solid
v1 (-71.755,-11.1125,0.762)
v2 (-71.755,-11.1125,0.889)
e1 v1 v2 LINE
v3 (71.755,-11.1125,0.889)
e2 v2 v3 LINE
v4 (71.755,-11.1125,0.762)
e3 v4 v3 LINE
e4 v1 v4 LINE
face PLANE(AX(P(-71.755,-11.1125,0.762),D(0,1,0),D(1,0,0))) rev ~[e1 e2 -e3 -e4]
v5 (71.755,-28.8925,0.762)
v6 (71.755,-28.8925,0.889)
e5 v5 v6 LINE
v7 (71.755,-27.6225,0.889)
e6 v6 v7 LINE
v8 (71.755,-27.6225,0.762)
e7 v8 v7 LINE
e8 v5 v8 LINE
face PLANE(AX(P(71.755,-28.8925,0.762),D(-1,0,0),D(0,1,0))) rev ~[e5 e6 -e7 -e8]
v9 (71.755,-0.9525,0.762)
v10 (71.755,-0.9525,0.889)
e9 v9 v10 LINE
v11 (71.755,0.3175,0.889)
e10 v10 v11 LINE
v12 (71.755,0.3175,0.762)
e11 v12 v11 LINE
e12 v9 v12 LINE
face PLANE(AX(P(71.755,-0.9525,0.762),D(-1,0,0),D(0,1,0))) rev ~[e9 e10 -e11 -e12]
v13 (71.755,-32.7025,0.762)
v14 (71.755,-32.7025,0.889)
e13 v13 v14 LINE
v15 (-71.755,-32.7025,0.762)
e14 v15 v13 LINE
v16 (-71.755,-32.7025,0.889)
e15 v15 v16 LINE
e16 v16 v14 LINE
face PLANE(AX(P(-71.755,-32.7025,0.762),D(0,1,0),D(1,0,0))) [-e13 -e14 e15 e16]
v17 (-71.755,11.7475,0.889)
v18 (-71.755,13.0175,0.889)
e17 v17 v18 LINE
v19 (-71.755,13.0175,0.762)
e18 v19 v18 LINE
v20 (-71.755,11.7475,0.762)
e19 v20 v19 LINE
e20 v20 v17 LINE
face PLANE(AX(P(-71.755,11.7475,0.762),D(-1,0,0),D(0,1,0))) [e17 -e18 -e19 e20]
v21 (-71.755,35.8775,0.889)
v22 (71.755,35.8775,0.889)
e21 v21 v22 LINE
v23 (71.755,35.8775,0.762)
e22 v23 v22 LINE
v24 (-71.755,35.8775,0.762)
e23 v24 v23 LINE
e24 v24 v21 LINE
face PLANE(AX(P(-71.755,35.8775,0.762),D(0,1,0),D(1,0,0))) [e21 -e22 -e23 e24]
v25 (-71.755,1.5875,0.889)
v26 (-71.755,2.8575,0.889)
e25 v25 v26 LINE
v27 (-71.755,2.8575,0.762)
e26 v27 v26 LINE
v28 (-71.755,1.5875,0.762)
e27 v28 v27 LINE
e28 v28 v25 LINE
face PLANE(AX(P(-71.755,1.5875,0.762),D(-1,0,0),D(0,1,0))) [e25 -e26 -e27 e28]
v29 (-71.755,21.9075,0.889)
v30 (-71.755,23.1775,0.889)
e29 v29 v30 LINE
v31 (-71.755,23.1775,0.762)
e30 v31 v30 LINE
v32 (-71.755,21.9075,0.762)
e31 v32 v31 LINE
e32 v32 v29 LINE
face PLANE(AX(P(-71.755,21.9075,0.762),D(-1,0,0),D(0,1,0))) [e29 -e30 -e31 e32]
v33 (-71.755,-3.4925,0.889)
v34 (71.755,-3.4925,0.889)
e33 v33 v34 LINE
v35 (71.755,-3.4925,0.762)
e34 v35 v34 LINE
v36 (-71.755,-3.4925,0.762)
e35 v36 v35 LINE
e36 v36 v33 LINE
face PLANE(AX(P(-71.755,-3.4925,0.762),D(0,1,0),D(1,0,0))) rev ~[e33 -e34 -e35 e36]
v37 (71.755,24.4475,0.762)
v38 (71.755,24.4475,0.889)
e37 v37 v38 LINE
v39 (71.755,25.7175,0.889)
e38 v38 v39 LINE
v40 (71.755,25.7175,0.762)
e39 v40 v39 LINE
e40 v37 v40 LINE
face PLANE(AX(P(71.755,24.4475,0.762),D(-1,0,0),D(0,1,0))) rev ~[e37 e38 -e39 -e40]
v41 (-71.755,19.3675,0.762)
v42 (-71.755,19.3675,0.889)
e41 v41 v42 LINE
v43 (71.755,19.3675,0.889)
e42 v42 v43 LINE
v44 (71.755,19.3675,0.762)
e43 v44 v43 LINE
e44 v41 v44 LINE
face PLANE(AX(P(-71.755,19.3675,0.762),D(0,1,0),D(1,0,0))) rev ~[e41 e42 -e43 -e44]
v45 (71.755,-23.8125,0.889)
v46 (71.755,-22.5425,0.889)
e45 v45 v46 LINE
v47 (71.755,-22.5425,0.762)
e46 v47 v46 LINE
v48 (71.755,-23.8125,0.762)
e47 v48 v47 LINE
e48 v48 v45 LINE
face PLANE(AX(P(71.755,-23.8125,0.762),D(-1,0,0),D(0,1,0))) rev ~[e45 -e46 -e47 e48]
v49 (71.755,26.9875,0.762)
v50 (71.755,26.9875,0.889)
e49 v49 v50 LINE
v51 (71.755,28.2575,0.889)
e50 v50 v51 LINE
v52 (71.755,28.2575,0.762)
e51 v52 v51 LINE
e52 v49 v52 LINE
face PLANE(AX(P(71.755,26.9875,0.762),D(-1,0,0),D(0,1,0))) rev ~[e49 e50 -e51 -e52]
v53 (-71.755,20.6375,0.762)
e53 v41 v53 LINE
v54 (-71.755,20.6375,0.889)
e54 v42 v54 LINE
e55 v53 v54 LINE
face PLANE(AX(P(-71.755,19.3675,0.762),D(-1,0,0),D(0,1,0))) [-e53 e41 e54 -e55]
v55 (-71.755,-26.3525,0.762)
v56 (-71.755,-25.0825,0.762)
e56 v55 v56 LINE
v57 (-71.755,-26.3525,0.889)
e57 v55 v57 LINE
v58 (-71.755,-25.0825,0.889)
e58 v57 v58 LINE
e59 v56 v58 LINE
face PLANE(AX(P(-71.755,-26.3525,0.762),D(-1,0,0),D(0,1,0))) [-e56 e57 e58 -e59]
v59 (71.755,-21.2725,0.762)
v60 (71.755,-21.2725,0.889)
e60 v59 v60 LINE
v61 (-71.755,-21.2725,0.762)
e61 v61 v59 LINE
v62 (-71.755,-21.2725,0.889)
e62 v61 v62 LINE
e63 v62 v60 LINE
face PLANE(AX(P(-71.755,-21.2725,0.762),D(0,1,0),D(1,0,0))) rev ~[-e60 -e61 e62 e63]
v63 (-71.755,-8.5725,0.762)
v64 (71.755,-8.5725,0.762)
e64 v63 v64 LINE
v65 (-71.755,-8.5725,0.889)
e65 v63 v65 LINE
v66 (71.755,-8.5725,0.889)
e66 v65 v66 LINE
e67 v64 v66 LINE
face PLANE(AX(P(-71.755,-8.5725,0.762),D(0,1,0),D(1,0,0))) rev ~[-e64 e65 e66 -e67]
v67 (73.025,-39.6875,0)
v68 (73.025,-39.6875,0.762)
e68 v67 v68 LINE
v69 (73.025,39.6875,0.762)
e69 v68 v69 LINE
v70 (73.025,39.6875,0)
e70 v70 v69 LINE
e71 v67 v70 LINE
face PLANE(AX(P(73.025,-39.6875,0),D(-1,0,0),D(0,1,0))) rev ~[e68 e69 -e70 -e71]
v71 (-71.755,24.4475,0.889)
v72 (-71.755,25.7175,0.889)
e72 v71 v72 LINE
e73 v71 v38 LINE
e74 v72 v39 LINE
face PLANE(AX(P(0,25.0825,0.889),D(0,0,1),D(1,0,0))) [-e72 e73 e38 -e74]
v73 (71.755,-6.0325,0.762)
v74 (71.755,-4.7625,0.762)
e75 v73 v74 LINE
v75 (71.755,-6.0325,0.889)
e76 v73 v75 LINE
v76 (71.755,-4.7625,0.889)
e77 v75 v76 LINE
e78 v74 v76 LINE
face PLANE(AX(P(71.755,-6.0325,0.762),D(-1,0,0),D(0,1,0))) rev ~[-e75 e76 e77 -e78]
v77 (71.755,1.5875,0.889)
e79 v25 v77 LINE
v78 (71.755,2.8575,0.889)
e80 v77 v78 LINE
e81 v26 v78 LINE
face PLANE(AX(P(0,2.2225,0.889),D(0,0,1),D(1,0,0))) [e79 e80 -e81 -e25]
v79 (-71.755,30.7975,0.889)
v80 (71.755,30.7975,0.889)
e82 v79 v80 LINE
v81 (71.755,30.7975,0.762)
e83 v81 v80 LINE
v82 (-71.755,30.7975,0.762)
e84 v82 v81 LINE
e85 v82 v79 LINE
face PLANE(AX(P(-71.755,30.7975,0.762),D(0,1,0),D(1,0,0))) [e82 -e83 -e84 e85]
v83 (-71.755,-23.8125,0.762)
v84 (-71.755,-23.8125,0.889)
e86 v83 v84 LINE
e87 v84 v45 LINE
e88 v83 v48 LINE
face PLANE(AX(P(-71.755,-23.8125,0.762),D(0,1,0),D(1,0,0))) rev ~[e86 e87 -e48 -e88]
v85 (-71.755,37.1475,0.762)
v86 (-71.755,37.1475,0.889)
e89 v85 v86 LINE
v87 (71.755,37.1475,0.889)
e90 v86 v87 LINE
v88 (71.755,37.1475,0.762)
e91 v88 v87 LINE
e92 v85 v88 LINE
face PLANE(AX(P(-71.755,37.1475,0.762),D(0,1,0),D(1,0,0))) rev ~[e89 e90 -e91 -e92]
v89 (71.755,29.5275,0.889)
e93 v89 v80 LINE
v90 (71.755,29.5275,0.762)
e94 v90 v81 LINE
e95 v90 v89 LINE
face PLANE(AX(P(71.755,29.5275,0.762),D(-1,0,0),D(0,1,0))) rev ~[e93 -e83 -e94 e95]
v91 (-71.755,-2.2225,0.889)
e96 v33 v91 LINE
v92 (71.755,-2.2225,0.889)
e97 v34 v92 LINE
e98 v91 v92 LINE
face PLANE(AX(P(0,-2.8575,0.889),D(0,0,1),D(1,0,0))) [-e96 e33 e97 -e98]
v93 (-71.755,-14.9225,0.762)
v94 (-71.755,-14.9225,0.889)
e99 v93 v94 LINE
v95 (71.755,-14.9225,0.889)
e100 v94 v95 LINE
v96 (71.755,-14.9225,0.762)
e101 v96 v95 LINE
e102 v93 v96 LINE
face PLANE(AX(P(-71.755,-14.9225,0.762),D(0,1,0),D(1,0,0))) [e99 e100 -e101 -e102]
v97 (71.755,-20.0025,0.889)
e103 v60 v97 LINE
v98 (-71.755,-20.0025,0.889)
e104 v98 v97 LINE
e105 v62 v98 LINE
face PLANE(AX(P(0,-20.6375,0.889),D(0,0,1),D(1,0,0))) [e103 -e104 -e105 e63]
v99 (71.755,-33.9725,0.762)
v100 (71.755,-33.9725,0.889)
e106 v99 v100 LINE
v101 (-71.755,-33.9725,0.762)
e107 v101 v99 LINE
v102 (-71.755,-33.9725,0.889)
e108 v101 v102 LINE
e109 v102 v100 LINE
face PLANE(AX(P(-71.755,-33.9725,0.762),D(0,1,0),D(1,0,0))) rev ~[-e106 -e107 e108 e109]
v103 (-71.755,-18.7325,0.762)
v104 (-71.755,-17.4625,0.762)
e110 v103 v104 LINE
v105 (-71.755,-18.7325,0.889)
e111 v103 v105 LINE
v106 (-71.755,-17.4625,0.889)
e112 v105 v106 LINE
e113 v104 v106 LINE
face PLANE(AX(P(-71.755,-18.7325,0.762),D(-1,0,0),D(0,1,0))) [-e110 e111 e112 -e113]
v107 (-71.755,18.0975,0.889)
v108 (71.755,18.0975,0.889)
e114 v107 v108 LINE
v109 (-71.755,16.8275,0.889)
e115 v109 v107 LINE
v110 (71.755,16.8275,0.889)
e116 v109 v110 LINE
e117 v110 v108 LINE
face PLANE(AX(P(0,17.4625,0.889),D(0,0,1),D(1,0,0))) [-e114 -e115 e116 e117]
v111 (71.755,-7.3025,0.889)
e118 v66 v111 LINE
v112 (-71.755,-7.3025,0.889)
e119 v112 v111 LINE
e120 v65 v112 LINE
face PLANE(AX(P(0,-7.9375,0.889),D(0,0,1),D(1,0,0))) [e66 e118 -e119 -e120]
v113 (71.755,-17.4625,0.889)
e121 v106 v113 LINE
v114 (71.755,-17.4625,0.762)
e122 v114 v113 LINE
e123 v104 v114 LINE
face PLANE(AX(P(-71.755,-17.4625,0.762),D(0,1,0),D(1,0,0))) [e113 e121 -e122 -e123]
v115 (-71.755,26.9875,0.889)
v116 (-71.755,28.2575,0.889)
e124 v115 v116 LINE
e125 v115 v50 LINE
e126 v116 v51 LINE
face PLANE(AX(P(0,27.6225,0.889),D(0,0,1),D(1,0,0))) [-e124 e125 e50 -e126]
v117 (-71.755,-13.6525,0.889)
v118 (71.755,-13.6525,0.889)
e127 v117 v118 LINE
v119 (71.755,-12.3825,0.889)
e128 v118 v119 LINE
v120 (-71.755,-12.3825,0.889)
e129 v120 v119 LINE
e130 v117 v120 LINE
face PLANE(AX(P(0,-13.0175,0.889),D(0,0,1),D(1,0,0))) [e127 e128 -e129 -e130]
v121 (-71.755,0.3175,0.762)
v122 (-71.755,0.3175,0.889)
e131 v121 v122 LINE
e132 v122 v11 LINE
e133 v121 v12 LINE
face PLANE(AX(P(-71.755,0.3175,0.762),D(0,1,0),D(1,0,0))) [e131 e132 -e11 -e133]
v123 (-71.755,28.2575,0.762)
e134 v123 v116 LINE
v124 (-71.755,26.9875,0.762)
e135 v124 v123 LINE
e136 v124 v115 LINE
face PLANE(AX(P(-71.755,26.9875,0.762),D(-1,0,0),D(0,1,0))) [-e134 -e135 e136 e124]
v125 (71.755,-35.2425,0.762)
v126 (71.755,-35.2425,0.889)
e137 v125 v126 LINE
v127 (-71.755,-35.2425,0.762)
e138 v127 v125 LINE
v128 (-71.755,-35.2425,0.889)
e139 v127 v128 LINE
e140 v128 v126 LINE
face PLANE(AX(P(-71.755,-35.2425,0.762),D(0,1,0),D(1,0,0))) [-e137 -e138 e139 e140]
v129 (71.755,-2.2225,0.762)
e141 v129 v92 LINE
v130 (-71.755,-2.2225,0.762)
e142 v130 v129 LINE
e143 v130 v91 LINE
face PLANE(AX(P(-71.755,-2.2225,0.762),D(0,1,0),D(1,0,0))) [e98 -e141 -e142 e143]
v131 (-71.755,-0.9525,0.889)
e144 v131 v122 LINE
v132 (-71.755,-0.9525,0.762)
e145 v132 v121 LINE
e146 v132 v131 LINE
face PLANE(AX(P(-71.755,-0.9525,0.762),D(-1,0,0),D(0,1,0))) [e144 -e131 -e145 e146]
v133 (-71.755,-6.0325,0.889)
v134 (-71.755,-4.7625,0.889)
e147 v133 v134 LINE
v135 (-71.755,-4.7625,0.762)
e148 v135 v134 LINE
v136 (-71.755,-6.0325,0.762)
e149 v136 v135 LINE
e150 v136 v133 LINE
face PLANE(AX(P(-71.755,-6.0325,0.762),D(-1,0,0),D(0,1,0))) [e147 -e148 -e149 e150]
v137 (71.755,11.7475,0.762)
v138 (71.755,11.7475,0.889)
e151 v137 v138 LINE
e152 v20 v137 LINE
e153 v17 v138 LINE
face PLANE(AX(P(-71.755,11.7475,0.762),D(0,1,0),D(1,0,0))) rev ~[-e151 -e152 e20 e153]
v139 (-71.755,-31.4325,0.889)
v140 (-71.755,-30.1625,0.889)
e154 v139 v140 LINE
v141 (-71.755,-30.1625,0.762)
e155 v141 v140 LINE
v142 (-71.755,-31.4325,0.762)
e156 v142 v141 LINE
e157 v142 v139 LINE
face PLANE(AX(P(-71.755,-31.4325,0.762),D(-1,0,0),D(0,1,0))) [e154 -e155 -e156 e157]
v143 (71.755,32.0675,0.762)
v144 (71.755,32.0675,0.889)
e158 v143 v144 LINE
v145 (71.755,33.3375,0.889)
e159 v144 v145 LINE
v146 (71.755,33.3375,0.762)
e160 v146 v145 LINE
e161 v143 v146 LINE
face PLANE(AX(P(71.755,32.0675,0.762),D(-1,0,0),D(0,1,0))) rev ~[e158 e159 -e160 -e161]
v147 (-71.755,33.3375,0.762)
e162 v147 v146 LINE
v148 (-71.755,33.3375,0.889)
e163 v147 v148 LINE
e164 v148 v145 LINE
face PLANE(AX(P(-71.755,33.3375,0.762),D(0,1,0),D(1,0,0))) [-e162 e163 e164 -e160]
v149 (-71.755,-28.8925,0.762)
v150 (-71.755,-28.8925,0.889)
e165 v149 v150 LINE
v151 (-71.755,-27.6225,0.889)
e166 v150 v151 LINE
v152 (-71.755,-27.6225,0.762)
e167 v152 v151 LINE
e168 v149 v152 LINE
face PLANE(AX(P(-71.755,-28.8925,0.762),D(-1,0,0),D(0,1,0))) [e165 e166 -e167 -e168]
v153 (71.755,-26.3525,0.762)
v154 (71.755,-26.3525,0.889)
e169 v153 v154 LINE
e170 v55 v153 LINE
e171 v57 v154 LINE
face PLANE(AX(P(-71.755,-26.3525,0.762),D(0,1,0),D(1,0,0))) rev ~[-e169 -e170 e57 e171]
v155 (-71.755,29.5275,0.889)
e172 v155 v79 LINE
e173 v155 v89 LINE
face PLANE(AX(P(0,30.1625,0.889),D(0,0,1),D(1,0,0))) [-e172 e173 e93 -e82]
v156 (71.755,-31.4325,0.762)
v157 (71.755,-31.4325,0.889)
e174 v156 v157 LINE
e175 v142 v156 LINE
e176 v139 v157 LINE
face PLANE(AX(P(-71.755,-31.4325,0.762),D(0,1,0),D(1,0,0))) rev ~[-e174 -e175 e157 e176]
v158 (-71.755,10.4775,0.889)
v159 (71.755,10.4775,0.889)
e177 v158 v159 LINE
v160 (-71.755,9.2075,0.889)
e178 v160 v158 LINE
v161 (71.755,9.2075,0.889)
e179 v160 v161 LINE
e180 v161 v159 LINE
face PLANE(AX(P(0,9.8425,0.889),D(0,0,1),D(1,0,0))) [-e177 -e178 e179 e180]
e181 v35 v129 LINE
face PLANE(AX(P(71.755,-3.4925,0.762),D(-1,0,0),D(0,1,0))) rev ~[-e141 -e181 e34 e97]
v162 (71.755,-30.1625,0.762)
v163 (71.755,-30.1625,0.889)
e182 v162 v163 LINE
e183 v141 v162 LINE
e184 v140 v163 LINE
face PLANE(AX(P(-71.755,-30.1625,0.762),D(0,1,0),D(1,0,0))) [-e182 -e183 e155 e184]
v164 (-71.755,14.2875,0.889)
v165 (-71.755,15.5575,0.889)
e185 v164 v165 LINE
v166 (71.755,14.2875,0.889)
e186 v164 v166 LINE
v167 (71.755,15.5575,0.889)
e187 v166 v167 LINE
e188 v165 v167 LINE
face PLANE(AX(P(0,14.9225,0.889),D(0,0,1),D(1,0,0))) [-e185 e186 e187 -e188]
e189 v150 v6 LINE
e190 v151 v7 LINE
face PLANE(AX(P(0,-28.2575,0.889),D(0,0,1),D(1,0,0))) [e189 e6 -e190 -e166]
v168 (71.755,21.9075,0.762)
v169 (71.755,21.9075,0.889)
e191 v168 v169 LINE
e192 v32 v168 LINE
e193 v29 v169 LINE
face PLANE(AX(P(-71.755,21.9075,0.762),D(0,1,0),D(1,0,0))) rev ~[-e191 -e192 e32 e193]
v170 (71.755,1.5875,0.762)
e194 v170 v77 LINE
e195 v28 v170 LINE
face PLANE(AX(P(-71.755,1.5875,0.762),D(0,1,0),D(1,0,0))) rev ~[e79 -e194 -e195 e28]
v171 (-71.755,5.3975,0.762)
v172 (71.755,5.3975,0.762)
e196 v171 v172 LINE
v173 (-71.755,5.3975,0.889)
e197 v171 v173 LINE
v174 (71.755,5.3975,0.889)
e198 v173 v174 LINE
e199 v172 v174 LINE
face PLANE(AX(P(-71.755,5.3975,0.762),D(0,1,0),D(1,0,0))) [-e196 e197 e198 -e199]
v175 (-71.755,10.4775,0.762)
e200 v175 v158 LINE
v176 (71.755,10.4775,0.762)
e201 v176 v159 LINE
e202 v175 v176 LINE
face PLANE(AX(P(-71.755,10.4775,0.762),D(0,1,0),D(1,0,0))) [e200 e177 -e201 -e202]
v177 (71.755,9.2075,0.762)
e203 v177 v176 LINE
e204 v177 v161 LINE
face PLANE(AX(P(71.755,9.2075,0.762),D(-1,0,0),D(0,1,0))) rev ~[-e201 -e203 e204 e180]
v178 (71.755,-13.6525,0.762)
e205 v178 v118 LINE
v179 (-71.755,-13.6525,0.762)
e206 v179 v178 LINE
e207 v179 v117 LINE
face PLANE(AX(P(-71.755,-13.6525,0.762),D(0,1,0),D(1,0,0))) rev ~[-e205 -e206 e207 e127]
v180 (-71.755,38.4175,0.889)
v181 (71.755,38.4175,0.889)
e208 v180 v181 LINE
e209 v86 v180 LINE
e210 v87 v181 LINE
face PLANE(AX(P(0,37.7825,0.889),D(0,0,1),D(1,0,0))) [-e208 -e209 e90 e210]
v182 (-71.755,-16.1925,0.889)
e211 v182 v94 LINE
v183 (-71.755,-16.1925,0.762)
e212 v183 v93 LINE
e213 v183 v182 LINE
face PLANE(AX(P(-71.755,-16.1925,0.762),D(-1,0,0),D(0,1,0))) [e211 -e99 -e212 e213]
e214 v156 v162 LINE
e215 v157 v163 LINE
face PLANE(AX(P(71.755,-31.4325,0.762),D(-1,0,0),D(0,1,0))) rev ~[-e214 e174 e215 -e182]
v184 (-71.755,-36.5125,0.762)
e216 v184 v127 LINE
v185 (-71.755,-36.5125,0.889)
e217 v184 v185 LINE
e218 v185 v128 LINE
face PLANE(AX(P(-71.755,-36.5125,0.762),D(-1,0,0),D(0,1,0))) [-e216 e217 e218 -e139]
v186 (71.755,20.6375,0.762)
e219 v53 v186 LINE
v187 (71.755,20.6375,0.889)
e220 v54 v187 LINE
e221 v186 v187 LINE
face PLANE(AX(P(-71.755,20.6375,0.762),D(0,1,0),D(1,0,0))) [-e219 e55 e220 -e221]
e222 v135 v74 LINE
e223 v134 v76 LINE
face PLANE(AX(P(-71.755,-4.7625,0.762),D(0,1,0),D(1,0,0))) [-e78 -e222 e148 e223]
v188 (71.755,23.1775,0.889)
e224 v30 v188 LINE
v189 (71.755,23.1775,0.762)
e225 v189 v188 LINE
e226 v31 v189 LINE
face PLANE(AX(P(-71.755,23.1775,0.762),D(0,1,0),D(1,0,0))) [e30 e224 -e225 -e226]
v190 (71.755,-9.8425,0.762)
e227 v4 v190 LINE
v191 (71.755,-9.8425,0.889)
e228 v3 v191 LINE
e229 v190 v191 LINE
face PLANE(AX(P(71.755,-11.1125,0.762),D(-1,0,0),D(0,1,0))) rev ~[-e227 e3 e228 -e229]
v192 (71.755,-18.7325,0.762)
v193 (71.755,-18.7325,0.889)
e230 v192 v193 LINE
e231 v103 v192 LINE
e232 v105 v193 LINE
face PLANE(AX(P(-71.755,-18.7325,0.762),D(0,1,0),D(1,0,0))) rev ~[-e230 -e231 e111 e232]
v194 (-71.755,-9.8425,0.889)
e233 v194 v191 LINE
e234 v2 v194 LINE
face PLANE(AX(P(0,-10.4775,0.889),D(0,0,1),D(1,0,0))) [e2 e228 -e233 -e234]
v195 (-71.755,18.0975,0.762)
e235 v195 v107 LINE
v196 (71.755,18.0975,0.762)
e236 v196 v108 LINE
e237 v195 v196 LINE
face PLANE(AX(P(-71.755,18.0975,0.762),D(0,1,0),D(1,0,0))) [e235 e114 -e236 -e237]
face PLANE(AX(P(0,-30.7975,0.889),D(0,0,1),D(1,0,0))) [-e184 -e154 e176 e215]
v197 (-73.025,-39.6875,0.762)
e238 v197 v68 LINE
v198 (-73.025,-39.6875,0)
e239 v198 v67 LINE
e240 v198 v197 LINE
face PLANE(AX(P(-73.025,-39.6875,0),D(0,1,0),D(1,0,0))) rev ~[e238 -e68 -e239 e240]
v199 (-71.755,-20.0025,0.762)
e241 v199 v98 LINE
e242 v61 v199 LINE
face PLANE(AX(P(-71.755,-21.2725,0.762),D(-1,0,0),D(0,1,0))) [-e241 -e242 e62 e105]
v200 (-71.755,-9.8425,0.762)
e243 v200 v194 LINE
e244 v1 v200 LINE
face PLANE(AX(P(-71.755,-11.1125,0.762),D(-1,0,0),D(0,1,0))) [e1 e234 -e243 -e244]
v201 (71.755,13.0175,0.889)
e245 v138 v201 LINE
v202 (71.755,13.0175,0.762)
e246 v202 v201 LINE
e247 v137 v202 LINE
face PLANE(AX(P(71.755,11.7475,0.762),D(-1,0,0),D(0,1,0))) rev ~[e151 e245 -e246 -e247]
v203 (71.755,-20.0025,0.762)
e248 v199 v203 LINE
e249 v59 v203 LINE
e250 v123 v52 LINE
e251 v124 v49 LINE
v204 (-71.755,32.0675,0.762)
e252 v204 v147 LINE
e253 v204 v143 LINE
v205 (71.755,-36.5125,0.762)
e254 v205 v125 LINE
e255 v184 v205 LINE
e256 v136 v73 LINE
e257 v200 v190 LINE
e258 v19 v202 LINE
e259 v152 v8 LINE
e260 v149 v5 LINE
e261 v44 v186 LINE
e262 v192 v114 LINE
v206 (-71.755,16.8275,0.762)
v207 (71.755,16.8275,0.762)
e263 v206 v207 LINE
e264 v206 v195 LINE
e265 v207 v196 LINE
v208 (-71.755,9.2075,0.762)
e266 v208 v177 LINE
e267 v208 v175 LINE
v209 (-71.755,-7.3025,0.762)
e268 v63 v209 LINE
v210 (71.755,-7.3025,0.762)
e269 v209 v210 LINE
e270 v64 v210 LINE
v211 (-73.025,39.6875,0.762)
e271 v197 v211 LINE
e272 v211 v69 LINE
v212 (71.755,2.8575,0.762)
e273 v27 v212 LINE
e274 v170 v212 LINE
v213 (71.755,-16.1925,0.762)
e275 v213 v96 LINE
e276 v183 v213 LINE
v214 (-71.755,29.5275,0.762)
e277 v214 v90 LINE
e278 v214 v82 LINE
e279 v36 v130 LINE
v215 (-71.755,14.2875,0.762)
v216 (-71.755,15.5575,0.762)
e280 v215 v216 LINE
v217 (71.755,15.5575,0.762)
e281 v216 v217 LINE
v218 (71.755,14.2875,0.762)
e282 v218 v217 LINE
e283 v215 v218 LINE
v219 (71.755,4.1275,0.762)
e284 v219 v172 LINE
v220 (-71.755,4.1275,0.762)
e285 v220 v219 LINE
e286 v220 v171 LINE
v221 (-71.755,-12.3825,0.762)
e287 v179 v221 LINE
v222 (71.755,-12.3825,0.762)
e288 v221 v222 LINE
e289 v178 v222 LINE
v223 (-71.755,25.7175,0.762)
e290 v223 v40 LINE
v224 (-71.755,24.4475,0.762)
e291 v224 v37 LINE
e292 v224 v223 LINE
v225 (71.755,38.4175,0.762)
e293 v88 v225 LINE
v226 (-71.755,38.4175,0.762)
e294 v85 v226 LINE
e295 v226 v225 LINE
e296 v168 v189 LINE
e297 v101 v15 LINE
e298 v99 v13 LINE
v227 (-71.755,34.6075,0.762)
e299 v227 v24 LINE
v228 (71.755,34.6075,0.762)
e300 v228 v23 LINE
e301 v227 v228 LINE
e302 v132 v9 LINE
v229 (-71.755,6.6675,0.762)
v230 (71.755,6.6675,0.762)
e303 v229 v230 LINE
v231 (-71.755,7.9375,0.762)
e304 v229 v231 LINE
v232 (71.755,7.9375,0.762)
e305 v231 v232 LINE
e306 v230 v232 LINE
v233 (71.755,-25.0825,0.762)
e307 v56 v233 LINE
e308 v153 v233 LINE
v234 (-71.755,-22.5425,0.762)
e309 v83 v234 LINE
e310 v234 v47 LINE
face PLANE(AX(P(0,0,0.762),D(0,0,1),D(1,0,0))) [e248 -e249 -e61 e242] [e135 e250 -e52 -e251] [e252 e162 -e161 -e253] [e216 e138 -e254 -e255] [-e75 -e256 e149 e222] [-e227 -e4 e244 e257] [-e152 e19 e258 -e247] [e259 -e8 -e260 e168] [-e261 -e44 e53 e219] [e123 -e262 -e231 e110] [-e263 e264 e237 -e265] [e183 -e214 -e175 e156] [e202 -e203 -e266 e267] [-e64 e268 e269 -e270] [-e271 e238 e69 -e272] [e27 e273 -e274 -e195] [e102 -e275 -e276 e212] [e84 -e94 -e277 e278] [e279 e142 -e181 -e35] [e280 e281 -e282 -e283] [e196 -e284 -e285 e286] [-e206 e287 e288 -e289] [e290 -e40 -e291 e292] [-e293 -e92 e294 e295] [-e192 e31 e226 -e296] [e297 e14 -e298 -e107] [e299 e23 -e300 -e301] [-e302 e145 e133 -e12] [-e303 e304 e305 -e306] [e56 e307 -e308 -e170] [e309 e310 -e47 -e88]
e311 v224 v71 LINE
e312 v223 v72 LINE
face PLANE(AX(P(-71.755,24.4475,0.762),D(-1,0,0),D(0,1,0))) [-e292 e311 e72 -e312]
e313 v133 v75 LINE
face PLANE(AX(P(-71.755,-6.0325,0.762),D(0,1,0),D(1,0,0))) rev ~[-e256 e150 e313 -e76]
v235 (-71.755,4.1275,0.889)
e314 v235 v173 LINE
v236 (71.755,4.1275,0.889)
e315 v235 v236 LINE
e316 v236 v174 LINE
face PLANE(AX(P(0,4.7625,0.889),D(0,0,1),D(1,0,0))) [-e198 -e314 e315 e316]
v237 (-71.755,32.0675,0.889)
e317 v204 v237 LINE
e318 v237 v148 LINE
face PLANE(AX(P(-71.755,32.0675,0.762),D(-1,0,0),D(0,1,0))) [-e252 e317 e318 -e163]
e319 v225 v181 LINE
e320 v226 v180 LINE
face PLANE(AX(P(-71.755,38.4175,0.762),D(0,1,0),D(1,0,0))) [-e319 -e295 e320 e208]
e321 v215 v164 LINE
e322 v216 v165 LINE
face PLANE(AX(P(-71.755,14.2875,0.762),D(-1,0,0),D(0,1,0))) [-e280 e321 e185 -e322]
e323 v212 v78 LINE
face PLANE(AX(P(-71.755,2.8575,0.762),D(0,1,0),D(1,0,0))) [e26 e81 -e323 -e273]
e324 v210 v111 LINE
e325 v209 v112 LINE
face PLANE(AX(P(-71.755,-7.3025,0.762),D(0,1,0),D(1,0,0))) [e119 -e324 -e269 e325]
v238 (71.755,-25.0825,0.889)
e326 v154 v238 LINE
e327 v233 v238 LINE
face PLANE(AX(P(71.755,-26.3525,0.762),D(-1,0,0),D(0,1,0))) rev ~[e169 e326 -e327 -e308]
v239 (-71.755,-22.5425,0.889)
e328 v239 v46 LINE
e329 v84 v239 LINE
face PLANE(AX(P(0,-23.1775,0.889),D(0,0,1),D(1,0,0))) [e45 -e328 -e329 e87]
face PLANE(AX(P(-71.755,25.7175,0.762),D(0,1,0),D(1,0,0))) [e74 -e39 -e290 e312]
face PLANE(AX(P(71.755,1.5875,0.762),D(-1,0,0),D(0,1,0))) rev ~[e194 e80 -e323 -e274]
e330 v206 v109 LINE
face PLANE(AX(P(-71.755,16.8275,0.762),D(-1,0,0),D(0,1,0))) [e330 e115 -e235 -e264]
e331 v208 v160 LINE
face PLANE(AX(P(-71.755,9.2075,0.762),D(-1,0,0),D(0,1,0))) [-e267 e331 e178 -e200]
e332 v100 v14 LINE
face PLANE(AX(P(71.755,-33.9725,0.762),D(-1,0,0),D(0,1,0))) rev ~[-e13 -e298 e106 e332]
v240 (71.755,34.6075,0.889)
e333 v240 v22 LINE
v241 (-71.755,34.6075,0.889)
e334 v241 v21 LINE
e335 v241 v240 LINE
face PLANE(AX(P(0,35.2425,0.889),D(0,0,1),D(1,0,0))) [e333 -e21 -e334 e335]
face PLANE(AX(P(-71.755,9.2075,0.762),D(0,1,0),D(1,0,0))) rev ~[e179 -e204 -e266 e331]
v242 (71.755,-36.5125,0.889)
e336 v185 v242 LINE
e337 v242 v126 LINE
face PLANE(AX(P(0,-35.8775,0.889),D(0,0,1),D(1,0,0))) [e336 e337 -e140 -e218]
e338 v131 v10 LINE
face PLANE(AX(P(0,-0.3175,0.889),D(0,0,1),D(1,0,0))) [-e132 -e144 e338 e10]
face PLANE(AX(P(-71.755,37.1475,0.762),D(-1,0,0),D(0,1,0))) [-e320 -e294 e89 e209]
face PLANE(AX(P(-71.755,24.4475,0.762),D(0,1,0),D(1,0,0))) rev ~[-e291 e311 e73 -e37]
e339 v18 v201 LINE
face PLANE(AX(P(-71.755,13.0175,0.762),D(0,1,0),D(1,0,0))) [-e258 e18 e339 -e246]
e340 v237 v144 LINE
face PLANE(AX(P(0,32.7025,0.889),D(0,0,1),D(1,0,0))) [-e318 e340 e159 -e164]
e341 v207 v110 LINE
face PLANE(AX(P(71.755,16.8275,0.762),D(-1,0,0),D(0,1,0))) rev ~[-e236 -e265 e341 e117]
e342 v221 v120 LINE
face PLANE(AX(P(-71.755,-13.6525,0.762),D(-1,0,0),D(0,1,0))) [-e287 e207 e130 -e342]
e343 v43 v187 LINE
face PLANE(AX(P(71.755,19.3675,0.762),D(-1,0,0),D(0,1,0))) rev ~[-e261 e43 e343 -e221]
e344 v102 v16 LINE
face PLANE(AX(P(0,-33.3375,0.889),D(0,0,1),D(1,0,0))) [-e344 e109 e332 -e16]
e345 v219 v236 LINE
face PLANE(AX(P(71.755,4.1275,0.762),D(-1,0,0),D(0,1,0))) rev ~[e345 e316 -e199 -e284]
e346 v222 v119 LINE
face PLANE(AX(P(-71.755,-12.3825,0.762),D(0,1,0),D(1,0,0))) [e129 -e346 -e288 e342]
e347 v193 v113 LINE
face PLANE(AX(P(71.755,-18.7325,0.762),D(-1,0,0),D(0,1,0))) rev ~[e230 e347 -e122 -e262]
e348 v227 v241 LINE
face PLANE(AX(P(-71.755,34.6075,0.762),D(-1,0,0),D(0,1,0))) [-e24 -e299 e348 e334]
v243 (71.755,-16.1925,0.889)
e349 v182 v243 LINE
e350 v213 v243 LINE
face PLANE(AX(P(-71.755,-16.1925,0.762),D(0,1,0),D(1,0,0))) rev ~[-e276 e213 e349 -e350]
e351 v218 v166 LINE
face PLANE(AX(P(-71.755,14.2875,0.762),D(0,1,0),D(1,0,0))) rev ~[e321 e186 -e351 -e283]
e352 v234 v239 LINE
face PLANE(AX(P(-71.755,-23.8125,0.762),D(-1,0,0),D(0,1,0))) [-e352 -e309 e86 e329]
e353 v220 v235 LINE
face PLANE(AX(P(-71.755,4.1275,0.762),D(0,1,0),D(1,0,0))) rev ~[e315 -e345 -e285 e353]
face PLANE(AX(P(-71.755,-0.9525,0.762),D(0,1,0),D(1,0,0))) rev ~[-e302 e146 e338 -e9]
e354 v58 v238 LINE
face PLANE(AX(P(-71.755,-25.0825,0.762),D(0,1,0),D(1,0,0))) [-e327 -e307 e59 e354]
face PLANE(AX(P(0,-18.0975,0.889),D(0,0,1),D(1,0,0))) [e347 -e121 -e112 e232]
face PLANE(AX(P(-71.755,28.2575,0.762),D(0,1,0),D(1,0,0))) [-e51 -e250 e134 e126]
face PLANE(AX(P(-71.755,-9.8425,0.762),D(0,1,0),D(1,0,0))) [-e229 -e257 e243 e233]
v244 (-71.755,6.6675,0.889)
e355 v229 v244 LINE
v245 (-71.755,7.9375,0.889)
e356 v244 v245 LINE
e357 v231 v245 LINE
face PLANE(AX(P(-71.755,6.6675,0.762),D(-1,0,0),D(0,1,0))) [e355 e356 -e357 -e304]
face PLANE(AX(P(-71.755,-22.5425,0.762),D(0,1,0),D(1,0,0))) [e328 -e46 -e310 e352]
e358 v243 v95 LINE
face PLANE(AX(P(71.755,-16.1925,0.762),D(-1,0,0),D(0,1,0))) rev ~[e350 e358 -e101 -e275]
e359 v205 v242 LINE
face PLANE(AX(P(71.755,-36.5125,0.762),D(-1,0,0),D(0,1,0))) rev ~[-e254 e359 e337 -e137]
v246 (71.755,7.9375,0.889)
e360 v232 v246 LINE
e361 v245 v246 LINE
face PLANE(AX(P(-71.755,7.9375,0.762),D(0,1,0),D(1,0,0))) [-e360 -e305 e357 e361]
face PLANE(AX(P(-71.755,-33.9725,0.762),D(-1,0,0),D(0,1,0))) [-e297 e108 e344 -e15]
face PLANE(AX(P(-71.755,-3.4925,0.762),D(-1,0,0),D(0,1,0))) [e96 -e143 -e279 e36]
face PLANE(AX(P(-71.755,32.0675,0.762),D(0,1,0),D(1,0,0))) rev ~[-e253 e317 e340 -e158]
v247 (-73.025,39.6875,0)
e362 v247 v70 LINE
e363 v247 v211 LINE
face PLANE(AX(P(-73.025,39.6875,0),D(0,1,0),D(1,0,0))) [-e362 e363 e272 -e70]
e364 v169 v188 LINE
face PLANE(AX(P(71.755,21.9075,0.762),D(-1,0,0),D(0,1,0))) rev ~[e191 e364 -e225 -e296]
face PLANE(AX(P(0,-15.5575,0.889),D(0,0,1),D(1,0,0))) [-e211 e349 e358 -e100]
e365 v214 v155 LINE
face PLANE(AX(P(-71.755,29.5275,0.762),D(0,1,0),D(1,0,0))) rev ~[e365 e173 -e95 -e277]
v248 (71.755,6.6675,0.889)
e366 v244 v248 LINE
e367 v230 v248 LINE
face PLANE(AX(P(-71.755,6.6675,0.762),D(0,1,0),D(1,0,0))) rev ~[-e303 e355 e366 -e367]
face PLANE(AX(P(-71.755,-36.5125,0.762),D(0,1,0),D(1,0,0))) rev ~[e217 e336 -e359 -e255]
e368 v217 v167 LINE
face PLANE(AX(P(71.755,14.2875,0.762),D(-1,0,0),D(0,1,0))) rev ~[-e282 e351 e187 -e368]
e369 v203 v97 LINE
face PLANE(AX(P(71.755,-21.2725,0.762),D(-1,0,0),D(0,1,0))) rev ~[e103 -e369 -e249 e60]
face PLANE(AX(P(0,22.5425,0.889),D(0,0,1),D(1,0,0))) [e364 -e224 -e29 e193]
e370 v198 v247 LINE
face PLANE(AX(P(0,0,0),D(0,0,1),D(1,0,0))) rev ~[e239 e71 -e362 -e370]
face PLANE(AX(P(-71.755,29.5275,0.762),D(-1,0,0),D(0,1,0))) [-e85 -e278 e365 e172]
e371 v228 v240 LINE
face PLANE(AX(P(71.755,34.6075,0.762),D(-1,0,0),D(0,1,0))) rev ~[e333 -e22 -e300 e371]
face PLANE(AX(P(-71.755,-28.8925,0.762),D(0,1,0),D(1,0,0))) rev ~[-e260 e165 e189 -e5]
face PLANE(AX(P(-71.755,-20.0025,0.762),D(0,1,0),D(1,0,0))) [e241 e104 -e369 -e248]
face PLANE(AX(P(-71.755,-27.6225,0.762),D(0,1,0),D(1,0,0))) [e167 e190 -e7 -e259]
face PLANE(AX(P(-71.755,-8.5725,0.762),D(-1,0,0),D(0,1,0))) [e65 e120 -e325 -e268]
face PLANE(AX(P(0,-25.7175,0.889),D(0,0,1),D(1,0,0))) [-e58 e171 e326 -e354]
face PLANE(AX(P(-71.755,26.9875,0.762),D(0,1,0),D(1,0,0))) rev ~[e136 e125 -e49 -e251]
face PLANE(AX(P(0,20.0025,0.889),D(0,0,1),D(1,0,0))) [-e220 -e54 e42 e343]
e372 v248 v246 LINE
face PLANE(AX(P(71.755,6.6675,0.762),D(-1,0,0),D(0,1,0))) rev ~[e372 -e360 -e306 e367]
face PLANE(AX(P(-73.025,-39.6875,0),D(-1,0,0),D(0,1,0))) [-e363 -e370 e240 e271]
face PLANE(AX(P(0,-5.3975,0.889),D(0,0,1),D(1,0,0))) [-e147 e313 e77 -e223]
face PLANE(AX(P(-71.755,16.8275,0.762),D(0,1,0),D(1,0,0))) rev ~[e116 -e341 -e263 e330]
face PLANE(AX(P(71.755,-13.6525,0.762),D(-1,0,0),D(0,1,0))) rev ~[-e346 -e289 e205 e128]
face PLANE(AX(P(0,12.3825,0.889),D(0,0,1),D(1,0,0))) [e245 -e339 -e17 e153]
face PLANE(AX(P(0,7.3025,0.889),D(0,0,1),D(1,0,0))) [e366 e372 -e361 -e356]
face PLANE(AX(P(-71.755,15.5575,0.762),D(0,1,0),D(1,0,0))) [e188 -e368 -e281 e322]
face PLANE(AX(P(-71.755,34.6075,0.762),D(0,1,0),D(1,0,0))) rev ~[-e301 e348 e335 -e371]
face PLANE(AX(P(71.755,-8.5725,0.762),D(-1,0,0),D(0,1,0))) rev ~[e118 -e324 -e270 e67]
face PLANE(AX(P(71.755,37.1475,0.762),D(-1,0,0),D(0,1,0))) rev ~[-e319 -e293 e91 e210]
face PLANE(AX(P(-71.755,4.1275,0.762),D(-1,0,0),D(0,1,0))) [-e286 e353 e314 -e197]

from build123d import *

# Parameters (mm, degrees)
F0_W     = 146.05
F0_H     = 79.375
F1_DEPTH = 0.762
F2_W     = 143.51
F2_H     = 1.27
F3_DEPTH = 0.127


with BuildPart() as f1:
    # F0 (on Top) → F1 (new body)
    with BuildSketch(Plane.XY):
        Rectangle(F0_W, F0_H)
    extrude(amount=F1_DEPTH)

    # F2 (on face) → F3 (join)
    with BuildSketch(Plane.XY.offset(0.762)):
        with Locations((0, 37.7825)):
            Rectangle(F2_W, F2_H)
        with Locations((0, 35.2425)):
            Rectangle(F2_W, F2_H)
        with Locations((0, 32.7025)):
            Rectangle(F2_W, F2_H)
        with Locations((0, 30.1625)):
            Rectangle(F2_W, F2_H)
        with Locations((0, 27.6225)):
            Rectangle(F2_W, F2_H)
        with Locations((0, 25.0825)):
            Rectangle(F2_W, F2_H)
        with Locations((0, 22.5425)):
            Rectangle(F2_W, F2_H)
        with Locations((0, 20.0025)):
            Rectangle(F2_W, F2_H)
        with Locations((0, 17.4625)):
            Rectangle(F2_W, F2_H)
        with Locations((0, 14.9225)):
            Rectangle(F2_W, F2_H)
        with Locations((0, 12.3825)):
            Rectangle(F2_W, F2_H)
        with Locations((0, 9.8425)):
            Rectangle(F2_W, F2_H)
        with Locations((0, 7.3025)):
            Rectangle(F2_W, F2_H)
        with Locations((0, 4.7625)):
            Rectangle(F2_W, F2_H)
        with Locations((0, 2.2225)):
            Rectangle(F2_W, F2_H)
        with Locations((0, -0.3175)):
            Rectangle(F2_W, F2_H)
        with Locations((0, -2.8575)):
            Rectangle(F2_W, F2_H)
        with Locations((0, -5.3975)):
            Rectangle(F2_W, F2_H)
        with Locations((0, -7.9375)):
            Rectangle(F2_W, F2_H)
        with Locations((0, -10.4775)):
            Rectangle(F2_W, F2_H)
        with Locations((0, -13.0175)):
            Rectangle(F2_W, F2_H)
        with Locations((0, -15.5575)):
            Rectangle(F2_W, F2_H)
        with Locations((0, -18.0975)):
            Rectangle(F2_W, F2_H)
        with Locations((0, -20.6375)):
            Rectangle(F2_W, F2_H)
        with Locations((0, -23.1775)):
            Rectangle(F2_W, F2_H)
        with Locations((0, -25.7175)):
            Rectangle(F2_W, F2_H)
        with Locations((0, -28.2575)):
            Rectangle(F2_W, F2_H)
        with Locations((0, -30.7975)):
            Rectangle(F2_W, F2_H)
        with Locations((0, -33.3375)):
            Rectangle(F2_W, F2_H)
        with Locations((0, -35.8775)):
            Rectangle(F2_W, F2_H)
    extrude(amount=F3_DEPTH)


solid = f1.part
